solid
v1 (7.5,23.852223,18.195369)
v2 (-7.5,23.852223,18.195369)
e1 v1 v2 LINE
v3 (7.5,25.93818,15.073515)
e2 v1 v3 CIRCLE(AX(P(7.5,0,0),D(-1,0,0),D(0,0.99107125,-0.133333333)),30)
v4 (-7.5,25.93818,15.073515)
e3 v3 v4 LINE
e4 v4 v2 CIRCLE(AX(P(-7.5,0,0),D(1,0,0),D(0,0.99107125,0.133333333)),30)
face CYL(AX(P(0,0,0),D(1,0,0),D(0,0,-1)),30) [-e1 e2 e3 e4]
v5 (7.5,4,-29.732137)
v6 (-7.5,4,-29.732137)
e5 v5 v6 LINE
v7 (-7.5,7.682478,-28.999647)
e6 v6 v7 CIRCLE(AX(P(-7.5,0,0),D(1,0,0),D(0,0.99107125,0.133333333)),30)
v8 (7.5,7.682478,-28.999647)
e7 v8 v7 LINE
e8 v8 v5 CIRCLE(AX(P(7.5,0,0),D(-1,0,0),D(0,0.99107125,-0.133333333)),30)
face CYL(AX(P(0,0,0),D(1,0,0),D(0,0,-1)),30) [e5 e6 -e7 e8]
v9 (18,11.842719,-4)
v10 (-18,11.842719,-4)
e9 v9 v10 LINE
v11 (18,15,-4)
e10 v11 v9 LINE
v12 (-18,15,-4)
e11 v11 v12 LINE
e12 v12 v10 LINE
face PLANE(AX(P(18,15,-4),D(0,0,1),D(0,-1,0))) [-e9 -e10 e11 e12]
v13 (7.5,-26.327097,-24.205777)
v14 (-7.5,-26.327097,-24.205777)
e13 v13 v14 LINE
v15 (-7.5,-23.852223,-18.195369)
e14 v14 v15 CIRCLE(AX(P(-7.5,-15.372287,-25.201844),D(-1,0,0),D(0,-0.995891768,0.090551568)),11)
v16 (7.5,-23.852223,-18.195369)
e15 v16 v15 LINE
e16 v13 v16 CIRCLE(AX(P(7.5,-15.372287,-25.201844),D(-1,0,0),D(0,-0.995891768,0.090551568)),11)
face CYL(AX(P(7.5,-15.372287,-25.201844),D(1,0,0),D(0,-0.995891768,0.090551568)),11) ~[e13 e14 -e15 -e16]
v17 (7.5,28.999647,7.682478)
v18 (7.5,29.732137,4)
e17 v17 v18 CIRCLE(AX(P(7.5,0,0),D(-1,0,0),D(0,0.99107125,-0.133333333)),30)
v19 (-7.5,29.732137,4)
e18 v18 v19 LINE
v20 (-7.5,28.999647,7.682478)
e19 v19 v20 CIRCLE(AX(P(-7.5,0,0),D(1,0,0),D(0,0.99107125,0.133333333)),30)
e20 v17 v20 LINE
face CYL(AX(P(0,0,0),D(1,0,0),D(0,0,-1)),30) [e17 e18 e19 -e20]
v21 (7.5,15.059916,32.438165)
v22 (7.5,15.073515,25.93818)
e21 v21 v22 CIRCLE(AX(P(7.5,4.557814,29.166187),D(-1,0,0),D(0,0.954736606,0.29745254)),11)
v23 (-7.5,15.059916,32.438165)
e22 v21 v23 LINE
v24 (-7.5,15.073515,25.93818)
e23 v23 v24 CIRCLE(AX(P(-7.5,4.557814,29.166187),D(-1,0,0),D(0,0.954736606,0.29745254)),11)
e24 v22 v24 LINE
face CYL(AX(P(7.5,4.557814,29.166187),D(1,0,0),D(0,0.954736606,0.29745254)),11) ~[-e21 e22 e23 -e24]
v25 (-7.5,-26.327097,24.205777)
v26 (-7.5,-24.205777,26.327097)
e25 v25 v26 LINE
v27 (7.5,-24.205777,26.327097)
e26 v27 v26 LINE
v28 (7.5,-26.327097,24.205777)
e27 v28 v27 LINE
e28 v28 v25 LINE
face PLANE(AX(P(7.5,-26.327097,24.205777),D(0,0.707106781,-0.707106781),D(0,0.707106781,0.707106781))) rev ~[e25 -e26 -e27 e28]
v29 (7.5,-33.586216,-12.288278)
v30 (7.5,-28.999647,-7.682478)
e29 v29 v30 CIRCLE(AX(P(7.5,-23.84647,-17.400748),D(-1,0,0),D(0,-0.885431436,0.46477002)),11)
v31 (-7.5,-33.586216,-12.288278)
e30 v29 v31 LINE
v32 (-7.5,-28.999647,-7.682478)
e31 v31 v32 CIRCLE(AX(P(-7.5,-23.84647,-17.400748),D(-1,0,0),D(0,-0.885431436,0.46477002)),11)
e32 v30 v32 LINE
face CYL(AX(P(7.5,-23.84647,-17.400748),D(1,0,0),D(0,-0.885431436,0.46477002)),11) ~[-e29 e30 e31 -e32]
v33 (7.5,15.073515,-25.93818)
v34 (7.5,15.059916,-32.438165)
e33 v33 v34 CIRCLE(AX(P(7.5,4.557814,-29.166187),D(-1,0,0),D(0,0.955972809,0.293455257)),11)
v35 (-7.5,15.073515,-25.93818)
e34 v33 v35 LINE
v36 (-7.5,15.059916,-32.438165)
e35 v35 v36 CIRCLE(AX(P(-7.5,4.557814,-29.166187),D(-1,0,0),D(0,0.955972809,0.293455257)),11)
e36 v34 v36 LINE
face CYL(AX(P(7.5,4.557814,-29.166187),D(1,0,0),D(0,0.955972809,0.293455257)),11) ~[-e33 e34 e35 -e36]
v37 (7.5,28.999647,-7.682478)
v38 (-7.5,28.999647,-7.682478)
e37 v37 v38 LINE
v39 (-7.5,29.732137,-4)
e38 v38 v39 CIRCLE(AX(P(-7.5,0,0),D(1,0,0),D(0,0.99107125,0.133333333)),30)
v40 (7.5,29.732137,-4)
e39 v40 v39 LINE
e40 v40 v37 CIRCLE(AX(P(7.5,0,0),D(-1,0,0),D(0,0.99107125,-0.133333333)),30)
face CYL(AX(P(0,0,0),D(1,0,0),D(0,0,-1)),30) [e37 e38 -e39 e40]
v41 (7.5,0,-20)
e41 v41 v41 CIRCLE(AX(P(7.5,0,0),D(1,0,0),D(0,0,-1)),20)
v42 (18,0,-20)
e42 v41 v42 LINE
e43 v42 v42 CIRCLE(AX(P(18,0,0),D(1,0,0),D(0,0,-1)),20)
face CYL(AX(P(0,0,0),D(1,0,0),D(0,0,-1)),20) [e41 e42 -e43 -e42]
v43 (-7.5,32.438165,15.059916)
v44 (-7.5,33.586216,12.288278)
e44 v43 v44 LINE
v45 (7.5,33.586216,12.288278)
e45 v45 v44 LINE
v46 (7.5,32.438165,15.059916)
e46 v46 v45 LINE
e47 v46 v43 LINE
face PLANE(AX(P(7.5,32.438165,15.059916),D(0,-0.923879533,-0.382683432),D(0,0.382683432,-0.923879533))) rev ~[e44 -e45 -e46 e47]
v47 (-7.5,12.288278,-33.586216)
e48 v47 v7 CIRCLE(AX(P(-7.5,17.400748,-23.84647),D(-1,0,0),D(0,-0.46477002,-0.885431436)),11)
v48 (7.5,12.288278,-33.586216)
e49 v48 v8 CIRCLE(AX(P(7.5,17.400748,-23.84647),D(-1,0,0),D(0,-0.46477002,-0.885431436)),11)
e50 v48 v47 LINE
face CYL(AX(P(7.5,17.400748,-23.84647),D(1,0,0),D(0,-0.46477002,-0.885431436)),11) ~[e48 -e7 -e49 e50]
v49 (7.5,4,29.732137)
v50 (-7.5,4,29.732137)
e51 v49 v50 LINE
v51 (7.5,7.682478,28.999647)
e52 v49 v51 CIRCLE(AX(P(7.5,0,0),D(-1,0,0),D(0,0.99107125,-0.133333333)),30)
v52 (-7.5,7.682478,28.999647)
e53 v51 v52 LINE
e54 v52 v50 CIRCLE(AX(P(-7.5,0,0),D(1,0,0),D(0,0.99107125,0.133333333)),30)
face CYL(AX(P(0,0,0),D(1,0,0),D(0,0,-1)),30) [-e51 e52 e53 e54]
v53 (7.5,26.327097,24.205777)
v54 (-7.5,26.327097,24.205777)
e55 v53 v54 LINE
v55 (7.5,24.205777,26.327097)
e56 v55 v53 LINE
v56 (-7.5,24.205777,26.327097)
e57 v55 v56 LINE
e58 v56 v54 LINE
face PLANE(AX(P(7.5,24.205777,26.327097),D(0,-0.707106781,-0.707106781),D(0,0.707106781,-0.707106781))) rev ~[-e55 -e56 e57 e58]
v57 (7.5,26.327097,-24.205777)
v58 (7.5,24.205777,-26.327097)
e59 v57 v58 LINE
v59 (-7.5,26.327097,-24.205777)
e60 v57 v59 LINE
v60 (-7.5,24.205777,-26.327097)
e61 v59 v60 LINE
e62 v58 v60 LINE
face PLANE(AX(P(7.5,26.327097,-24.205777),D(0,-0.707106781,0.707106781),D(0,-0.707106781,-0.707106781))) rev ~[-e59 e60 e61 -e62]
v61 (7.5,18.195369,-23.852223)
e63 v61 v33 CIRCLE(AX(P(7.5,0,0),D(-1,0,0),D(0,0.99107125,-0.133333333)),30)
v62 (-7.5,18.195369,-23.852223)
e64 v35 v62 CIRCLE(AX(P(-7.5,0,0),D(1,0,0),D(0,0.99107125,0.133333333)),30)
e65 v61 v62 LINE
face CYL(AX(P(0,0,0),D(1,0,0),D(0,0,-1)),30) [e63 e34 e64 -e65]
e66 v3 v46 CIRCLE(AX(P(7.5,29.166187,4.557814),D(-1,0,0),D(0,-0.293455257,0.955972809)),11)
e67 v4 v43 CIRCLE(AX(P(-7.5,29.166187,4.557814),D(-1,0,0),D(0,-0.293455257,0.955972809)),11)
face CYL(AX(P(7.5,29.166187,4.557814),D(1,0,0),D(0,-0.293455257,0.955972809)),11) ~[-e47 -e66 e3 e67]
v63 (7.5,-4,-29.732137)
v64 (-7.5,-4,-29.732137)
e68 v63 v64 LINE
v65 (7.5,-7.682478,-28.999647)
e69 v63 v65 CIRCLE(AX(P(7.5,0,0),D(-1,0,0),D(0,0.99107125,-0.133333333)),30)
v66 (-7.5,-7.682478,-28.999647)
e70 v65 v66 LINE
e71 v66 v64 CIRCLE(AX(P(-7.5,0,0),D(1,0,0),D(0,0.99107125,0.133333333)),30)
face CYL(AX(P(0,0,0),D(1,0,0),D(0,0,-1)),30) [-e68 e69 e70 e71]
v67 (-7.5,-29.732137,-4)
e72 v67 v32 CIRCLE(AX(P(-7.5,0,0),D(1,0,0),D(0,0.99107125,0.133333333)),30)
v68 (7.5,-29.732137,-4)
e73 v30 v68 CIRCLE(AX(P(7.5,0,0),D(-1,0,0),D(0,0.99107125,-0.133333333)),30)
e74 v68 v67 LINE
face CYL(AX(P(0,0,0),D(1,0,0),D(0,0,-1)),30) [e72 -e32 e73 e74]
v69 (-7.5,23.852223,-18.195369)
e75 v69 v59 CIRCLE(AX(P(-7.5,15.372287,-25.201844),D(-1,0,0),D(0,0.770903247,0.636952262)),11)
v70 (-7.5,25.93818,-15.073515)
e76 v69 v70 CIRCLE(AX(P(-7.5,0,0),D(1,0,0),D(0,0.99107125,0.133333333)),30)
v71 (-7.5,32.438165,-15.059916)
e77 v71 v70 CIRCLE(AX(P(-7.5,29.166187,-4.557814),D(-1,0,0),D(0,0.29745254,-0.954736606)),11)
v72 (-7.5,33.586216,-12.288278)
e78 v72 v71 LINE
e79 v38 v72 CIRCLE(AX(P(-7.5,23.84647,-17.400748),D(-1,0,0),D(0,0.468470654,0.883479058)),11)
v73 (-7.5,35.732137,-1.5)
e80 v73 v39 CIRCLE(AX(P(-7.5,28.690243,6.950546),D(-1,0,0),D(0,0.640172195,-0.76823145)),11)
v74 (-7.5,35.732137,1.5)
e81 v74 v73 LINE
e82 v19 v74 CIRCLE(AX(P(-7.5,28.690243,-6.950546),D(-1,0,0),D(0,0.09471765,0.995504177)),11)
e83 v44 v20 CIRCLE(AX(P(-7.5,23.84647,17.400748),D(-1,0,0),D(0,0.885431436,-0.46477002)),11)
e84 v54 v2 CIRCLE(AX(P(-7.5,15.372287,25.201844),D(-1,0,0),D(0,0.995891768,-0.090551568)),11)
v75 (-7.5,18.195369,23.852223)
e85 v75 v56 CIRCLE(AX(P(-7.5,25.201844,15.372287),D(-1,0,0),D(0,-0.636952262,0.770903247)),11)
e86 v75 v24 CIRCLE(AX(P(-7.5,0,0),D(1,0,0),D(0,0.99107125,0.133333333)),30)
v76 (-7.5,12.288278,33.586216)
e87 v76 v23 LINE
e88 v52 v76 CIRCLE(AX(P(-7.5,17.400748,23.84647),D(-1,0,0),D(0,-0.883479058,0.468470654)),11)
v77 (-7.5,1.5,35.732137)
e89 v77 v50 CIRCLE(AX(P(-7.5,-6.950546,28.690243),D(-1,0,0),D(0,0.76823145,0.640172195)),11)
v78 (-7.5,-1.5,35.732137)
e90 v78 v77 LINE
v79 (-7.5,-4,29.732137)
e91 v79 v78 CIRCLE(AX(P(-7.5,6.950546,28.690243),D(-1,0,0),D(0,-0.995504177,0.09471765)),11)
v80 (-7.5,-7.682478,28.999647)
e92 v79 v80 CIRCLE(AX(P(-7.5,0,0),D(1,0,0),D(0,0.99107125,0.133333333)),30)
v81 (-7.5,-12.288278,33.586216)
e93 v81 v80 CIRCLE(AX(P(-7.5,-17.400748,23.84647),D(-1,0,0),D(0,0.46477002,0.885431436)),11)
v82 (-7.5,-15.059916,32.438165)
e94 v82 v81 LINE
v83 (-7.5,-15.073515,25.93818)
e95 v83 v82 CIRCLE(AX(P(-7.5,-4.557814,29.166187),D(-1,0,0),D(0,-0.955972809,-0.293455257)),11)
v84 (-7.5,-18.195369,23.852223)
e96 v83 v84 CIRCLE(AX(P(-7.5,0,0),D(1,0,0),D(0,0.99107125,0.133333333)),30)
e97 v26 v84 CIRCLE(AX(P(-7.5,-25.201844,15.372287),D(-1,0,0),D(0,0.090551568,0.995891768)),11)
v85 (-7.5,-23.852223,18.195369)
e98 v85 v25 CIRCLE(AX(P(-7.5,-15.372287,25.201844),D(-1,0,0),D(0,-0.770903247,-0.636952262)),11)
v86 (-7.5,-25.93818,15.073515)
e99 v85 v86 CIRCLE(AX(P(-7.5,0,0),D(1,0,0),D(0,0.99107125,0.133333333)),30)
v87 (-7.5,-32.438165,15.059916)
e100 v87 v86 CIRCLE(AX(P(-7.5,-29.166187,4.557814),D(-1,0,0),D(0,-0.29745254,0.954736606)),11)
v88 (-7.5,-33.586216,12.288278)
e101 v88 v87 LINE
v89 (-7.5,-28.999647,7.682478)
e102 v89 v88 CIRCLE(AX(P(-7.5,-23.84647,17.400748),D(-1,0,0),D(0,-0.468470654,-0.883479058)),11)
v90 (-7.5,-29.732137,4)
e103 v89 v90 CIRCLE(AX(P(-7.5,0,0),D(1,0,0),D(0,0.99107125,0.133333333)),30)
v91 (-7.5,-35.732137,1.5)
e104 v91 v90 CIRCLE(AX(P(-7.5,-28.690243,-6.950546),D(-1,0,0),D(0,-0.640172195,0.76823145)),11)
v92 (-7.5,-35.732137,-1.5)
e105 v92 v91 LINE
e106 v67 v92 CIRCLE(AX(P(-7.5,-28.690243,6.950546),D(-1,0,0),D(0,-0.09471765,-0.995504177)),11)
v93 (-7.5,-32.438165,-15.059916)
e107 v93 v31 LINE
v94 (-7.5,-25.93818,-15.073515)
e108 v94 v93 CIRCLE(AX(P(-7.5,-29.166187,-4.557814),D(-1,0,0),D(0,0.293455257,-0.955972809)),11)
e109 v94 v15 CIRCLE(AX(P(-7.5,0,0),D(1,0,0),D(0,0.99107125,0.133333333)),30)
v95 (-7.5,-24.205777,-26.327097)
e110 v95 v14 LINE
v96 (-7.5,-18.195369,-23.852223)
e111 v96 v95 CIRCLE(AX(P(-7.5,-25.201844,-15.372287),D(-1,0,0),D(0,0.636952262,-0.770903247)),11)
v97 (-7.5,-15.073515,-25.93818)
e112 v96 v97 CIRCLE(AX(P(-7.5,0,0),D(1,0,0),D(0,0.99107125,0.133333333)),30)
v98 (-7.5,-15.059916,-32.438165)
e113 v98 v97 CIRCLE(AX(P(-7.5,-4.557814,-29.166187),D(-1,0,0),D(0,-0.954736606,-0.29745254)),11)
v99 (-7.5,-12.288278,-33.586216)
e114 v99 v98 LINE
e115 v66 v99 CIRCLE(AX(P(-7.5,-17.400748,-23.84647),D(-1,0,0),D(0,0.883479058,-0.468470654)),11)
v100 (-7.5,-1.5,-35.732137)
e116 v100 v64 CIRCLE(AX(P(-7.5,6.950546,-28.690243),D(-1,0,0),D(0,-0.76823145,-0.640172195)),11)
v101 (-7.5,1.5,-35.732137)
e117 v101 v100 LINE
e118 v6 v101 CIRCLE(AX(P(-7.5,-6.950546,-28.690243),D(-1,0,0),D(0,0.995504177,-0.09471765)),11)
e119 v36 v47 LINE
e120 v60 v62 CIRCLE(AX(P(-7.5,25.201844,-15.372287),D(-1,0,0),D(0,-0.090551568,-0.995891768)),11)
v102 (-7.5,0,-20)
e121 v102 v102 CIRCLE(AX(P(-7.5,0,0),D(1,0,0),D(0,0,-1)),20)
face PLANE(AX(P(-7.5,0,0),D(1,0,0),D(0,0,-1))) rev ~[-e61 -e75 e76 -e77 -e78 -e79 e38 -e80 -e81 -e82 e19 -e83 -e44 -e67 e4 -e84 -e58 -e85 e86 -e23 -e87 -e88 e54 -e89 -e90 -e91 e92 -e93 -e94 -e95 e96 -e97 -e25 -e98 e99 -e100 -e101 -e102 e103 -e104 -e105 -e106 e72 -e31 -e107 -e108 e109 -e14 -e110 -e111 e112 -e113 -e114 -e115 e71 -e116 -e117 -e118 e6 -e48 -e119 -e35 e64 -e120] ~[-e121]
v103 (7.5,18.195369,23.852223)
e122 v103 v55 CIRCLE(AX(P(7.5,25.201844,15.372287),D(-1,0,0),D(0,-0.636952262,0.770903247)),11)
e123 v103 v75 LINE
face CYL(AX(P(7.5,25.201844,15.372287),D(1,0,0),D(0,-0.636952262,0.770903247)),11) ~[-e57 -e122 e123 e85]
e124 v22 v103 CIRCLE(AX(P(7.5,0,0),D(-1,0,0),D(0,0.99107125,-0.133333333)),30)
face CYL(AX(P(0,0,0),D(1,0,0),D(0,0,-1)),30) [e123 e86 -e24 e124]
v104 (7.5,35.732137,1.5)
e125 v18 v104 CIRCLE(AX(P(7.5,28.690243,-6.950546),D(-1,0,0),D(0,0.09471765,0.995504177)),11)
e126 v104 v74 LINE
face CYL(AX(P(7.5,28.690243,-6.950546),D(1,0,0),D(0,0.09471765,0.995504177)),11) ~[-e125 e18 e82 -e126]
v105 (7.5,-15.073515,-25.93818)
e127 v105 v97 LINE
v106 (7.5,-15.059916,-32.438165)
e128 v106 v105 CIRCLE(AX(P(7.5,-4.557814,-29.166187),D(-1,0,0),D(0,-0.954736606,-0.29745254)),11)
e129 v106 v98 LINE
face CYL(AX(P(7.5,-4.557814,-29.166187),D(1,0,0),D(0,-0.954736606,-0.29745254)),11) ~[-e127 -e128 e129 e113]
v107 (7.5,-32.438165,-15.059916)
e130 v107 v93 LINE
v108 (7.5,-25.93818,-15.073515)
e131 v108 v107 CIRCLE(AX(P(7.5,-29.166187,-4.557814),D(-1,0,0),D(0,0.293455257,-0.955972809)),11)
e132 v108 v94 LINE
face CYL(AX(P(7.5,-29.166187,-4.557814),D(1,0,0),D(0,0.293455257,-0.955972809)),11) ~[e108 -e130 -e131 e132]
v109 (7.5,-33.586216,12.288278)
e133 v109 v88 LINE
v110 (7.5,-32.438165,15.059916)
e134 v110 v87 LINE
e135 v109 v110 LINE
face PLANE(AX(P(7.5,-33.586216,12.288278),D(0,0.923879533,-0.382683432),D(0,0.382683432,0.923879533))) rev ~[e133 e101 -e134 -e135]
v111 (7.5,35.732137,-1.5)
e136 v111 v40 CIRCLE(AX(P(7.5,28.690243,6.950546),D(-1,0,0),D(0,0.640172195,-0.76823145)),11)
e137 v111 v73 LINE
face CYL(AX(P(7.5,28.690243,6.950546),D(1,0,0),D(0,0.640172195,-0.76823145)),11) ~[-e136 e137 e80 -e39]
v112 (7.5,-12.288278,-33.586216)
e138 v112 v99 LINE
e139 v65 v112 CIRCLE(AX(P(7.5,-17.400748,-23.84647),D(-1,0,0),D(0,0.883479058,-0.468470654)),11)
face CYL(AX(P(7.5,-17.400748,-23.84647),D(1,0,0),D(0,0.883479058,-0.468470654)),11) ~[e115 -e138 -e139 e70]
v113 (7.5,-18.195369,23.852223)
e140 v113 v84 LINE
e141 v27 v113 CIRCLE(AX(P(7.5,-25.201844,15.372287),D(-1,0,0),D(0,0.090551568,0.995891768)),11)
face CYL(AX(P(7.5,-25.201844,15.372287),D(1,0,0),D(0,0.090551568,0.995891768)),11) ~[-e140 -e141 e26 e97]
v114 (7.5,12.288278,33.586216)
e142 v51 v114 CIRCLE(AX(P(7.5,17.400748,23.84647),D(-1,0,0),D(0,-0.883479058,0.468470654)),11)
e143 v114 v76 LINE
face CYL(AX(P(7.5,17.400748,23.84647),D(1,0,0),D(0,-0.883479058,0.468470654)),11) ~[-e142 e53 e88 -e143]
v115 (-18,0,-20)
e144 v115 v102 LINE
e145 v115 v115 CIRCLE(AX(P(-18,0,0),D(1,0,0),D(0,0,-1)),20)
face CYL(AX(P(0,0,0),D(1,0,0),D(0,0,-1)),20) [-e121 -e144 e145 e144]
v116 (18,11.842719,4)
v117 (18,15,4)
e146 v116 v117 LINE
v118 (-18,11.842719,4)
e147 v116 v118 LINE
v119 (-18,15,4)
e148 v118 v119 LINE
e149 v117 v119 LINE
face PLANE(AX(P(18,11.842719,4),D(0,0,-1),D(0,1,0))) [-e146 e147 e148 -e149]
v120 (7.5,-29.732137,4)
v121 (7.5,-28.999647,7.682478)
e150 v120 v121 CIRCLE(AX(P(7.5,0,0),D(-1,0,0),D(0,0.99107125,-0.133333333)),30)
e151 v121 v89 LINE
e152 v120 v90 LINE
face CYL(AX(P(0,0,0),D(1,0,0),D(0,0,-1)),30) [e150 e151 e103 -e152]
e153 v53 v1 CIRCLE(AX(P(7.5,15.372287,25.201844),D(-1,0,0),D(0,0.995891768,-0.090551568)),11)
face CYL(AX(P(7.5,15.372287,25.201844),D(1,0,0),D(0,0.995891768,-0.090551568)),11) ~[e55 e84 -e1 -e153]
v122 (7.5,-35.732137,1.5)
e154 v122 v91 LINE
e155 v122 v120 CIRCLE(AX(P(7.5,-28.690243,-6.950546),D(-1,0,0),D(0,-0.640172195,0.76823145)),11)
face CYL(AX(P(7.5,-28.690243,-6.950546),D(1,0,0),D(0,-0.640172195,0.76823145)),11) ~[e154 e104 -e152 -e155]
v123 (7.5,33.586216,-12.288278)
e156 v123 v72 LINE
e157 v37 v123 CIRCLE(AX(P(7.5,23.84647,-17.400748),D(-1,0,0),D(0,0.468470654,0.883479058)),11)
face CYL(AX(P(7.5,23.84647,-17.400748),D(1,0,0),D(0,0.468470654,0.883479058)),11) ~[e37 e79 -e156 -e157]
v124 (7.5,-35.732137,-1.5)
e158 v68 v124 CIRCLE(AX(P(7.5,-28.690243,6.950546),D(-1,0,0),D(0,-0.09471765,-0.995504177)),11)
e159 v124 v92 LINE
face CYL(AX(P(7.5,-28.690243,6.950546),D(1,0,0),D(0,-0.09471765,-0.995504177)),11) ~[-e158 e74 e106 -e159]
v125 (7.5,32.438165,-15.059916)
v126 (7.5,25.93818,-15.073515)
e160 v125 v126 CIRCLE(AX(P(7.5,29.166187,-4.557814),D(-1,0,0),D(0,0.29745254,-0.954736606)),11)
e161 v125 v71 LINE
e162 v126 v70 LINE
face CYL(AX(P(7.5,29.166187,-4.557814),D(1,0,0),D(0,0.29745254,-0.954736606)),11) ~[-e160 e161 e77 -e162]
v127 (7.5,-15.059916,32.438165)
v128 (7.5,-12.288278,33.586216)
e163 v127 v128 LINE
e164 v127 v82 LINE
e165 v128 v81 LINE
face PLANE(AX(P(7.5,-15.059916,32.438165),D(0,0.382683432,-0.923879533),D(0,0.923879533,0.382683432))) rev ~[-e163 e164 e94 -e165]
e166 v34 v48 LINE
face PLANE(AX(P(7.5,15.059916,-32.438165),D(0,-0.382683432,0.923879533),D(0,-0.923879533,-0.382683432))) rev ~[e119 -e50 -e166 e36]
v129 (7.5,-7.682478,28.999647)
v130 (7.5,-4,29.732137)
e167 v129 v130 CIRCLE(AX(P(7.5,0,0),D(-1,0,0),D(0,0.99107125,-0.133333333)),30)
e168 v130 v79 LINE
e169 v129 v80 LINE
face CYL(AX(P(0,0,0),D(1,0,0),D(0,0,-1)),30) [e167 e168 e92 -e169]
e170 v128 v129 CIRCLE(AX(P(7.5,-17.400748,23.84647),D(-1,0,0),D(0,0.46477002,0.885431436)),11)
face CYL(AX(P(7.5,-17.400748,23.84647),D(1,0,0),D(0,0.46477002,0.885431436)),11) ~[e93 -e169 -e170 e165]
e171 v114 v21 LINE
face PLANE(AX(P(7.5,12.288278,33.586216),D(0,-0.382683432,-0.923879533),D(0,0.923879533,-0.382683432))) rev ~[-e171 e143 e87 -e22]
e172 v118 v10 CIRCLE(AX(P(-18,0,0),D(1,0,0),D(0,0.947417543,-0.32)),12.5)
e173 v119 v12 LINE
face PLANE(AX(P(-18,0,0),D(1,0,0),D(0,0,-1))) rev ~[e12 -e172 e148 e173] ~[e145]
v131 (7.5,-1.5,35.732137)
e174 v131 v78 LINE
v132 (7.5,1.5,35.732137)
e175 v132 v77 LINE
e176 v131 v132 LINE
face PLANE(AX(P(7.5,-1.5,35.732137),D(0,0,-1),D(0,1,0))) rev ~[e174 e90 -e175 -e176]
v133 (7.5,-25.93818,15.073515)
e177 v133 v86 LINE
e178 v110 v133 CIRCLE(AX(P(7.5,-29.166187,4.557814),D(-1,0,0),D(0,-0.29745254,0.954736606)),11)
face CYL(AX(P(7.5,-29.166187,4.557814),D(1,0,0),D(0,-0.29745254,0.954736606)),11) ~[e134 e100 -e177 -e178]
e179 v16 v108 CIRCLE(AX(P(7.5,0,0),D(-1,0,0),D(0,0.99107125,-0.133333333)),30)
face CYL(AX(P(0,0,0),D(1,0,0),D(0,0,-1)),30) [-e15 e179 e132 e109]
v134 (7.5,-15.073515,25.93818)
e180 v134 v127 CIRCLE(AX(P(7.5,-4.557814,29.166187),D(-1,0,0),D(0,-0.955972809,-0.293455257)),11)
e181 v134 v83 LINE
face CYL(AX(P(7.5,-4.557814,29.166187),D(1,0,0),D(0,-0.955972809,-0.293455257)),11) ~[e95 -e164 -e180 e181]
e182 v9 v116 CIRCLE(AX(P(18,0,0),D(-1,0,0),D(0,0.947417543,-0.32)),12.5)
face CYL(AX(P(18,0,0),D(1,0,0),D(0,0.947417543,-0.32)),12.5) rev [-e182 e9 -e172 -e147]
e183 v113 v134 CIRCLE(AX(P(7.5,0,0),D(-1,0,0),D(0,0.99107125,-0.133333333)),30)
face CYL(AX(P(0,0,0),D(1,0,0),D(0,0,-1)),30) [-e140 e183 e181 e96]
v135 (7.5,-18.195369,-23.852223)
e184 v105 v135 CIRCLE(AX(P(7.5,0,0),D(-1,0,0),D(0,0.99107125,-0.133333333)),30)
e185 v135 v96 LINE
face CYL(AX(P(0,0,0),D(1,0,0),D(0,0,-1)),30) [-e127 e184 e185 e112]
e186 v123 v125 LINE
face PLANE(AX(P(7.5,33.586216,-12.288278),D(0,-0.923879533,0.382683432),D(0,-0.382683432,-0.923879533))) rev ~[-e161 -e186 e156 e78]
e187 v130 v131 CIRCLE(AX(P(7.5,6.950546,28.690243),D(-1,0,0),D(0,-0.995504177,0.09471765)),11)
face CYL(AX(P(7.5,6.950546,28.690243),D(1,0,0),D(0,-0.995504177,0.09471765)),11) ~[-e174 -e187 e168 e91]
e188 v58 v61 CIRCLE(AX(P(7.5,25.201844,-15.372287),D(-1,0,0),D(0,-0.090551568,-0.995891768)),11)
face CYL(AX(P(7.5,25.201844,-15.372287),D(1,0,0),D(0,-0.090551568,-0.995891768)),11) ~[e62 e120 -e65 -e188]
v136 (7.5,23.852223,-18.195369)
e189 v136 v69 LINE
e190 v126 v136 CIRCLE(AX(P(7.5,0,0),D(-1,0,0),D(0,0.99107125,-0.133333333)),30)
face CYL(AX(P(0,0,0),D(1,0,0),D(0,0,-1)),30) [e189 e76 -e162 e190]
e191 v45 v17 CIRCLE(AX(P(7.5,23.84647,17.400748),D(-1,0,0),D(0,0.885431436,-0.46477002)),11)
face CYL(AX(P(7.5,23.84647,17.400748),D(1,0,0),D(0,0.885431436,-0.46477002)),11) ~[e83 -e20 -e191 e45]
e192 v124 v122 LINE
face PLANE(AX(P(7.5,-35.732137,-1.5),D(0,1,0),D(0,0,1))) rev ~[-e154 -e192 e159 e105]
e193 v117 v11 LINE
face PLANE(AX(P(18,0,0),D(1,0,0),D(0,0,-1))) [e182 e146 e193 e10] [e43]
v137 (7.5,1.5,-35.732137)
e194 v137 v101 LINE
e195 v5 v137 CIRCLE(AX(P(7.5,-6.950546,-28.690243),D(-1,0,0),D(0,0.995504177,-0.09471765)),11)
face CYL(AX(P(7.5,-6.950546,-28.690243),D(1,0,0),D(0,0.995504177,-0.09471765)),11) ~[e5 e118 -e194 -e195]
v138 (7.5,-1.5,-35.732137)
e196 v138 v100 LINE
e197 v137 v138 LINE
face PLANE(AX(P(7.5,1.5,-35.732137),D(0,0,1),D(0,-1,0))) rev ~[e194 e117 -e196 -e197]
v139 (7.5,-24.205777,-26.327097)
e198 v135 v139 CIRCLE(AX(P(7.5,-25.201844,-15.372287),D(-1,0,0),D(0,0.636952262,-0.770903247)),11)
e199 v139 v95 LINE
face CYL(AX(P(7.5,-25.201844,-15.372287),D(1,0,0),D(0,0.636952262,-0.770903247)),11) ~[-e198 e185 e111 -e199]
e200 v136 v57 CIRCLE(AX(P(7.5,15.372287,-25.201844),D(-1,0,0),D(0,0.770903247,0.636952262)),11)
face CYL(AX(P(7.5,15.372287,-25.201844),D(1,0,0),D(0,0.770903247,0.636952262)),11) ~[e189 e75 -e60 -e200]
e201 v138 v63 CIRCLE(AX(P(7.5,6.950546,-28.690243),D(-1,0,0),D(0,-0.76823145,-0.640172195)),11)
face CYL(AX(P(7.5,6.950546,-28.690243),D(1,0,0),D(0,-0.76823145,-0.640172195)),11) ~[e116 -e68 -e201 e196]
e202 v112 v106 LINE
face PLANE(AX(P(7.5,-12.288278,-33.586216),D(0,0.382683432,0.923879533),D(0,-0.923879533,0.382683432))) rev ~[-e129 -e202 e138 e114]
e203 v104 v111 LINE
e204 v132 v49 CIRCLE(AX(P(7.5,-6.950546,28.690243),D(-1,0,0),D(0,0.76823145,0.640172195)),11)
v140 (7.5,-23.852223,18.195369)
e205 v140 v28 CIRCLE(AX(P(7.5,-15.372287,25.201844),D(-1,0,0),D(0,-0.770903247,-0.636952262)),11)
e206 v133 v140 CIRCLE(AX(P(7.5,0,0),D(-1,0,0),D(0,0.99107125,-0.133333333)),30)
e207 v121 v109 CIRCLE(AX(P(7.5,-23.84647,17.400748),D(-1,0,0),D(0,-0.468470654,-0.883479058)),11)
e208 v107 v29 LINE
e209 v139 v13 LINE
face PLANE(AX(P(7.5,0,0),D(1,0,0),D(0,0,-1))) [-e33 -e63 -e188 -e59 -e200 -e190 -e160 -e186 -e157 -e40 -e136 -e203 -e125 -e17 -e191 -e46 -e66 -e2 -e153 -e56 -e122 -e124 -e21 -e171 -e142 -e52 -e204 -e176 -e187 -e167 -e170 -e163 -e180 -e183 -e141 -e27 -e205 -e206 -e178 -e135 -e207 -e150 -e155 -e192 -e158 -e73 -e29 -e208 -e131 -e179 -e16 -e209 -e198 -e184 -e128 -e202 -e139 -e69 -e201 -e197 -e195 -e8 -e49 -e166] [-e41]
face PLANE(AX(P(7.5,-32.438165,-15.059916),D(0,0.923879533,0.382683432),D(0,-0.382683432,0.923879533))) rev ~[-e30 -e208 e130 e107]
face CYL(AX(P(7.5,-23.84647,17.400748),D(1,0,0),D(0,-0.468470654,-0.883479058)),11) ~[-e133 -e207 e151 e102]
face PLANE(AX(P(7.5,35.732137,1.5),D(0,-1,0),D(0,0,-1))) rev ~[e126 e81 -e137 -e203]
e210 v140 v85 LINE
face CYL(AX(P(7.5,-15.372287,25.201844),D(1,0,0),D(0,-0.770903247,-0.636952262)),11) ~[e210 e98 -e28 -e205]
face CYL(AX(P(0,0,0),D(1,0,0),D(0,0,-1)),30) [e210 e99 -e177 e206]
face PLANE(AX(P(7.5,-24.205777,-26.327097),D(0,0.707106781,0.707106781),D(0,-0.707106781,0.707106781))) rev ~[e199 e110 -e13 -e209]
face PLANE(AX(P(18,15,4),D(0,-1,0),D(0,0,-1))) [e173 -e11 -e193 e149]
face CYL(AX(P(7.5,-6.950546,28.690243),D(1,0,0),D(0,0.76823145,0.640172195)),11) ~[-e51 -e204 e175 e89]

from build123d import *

# Parameters (mm, degrees)
SKETCH1_R           = 30
BOSS_EXTRUDE1_DEPTH = 7.5
BOSS_EXTRUDE2_DEPTH = 15
SKETCH4_R           = 20
BOSS_EXTRUDE3_DEPTH = 18
CUT_EXTRUDE1_DEPTH  = 37
CIRPATTERN1_COUNT   = 16


with BuildPart() as part:
    # Sketch1 → Boss-Extrude1 (new body, symmetric)
    with BuildSketch(Plane(origin=(0, 0, 0), x_dir=(0, 0, -1), z_dir=(1, 0, 0))):
        Circle(SKETCH1_R)
    extrude(amount=BOSS_EXTRUDE1_DEPTH, both=True)

    # Sketch3 → Boss-Extrude2 (add)
    with BuildSketch(Plane(origin=(7.5, 0, 0), x_dir=(0, 0, -1), z_dir=(1, 0, 0))):
        with BuildLine():
            Line((-1.5, 35.732137495), (1.5, 35.732137495))
            ThreePointArc((1.5, 35.732137495), (3.203300204, 32.92101258), (4, 29.732137495))
            ThreePointArc((4, 29.732137495), (0, 30), (-4, 29.732137495))
            ThreePointArc((-4, 29.732137495), (-3.203300204, 32.92101258), (-1.5, 35.732137495))
        make_face()
    boss_extrude2 = extrude(amount=-BOSS_EXTRUDE2_DEPTH)

    # Sketch4 → Boss-Extrude3 (add, symmetric)
    with BuildSketch(Plane(origin=(0, 0, 0), x_dir=(0, 0, -1), z_dir=(1, 0, 0))):
        Circle(SKETCH4_R)
    extrude(amount=BOSS_EXTRUDE3_DEPTH, both=True)

    # Sketch5 → Cut-Extrude1 (cut, through all)
    with BuildSketch(Plane(origin=(18, 0, 0), x_dir=(0, 0, -1), z_dir=(1, 0, 0))):
        with BuildLine():
            Line((-4, 15), (4, 15))
            Line((4, 15), (4, 11.842719282))
            ThreePointArc((4, 11.842719282), (0, -12.5), (-4, 11.842719282))
            Line((-4, 11.842719282), (-4, 15))
        make_face()
    extrude(amount=-CUT_EXTRUDE1_DEPTH, mode=Mode.SUBTRACT)

    # CirPattern1: Boss-Extrude2 ×16 about axis
    cirpattern1_axis = Axis((0, 0, 0), (1, 0, 0))
    for i in range(1, CIRPATTERN1_COUNT):
        add(boss_extrude2.rotate(cirpattern1_axis, i * 360 / CIRPATTERN1_COUNT))


solid = part.part
